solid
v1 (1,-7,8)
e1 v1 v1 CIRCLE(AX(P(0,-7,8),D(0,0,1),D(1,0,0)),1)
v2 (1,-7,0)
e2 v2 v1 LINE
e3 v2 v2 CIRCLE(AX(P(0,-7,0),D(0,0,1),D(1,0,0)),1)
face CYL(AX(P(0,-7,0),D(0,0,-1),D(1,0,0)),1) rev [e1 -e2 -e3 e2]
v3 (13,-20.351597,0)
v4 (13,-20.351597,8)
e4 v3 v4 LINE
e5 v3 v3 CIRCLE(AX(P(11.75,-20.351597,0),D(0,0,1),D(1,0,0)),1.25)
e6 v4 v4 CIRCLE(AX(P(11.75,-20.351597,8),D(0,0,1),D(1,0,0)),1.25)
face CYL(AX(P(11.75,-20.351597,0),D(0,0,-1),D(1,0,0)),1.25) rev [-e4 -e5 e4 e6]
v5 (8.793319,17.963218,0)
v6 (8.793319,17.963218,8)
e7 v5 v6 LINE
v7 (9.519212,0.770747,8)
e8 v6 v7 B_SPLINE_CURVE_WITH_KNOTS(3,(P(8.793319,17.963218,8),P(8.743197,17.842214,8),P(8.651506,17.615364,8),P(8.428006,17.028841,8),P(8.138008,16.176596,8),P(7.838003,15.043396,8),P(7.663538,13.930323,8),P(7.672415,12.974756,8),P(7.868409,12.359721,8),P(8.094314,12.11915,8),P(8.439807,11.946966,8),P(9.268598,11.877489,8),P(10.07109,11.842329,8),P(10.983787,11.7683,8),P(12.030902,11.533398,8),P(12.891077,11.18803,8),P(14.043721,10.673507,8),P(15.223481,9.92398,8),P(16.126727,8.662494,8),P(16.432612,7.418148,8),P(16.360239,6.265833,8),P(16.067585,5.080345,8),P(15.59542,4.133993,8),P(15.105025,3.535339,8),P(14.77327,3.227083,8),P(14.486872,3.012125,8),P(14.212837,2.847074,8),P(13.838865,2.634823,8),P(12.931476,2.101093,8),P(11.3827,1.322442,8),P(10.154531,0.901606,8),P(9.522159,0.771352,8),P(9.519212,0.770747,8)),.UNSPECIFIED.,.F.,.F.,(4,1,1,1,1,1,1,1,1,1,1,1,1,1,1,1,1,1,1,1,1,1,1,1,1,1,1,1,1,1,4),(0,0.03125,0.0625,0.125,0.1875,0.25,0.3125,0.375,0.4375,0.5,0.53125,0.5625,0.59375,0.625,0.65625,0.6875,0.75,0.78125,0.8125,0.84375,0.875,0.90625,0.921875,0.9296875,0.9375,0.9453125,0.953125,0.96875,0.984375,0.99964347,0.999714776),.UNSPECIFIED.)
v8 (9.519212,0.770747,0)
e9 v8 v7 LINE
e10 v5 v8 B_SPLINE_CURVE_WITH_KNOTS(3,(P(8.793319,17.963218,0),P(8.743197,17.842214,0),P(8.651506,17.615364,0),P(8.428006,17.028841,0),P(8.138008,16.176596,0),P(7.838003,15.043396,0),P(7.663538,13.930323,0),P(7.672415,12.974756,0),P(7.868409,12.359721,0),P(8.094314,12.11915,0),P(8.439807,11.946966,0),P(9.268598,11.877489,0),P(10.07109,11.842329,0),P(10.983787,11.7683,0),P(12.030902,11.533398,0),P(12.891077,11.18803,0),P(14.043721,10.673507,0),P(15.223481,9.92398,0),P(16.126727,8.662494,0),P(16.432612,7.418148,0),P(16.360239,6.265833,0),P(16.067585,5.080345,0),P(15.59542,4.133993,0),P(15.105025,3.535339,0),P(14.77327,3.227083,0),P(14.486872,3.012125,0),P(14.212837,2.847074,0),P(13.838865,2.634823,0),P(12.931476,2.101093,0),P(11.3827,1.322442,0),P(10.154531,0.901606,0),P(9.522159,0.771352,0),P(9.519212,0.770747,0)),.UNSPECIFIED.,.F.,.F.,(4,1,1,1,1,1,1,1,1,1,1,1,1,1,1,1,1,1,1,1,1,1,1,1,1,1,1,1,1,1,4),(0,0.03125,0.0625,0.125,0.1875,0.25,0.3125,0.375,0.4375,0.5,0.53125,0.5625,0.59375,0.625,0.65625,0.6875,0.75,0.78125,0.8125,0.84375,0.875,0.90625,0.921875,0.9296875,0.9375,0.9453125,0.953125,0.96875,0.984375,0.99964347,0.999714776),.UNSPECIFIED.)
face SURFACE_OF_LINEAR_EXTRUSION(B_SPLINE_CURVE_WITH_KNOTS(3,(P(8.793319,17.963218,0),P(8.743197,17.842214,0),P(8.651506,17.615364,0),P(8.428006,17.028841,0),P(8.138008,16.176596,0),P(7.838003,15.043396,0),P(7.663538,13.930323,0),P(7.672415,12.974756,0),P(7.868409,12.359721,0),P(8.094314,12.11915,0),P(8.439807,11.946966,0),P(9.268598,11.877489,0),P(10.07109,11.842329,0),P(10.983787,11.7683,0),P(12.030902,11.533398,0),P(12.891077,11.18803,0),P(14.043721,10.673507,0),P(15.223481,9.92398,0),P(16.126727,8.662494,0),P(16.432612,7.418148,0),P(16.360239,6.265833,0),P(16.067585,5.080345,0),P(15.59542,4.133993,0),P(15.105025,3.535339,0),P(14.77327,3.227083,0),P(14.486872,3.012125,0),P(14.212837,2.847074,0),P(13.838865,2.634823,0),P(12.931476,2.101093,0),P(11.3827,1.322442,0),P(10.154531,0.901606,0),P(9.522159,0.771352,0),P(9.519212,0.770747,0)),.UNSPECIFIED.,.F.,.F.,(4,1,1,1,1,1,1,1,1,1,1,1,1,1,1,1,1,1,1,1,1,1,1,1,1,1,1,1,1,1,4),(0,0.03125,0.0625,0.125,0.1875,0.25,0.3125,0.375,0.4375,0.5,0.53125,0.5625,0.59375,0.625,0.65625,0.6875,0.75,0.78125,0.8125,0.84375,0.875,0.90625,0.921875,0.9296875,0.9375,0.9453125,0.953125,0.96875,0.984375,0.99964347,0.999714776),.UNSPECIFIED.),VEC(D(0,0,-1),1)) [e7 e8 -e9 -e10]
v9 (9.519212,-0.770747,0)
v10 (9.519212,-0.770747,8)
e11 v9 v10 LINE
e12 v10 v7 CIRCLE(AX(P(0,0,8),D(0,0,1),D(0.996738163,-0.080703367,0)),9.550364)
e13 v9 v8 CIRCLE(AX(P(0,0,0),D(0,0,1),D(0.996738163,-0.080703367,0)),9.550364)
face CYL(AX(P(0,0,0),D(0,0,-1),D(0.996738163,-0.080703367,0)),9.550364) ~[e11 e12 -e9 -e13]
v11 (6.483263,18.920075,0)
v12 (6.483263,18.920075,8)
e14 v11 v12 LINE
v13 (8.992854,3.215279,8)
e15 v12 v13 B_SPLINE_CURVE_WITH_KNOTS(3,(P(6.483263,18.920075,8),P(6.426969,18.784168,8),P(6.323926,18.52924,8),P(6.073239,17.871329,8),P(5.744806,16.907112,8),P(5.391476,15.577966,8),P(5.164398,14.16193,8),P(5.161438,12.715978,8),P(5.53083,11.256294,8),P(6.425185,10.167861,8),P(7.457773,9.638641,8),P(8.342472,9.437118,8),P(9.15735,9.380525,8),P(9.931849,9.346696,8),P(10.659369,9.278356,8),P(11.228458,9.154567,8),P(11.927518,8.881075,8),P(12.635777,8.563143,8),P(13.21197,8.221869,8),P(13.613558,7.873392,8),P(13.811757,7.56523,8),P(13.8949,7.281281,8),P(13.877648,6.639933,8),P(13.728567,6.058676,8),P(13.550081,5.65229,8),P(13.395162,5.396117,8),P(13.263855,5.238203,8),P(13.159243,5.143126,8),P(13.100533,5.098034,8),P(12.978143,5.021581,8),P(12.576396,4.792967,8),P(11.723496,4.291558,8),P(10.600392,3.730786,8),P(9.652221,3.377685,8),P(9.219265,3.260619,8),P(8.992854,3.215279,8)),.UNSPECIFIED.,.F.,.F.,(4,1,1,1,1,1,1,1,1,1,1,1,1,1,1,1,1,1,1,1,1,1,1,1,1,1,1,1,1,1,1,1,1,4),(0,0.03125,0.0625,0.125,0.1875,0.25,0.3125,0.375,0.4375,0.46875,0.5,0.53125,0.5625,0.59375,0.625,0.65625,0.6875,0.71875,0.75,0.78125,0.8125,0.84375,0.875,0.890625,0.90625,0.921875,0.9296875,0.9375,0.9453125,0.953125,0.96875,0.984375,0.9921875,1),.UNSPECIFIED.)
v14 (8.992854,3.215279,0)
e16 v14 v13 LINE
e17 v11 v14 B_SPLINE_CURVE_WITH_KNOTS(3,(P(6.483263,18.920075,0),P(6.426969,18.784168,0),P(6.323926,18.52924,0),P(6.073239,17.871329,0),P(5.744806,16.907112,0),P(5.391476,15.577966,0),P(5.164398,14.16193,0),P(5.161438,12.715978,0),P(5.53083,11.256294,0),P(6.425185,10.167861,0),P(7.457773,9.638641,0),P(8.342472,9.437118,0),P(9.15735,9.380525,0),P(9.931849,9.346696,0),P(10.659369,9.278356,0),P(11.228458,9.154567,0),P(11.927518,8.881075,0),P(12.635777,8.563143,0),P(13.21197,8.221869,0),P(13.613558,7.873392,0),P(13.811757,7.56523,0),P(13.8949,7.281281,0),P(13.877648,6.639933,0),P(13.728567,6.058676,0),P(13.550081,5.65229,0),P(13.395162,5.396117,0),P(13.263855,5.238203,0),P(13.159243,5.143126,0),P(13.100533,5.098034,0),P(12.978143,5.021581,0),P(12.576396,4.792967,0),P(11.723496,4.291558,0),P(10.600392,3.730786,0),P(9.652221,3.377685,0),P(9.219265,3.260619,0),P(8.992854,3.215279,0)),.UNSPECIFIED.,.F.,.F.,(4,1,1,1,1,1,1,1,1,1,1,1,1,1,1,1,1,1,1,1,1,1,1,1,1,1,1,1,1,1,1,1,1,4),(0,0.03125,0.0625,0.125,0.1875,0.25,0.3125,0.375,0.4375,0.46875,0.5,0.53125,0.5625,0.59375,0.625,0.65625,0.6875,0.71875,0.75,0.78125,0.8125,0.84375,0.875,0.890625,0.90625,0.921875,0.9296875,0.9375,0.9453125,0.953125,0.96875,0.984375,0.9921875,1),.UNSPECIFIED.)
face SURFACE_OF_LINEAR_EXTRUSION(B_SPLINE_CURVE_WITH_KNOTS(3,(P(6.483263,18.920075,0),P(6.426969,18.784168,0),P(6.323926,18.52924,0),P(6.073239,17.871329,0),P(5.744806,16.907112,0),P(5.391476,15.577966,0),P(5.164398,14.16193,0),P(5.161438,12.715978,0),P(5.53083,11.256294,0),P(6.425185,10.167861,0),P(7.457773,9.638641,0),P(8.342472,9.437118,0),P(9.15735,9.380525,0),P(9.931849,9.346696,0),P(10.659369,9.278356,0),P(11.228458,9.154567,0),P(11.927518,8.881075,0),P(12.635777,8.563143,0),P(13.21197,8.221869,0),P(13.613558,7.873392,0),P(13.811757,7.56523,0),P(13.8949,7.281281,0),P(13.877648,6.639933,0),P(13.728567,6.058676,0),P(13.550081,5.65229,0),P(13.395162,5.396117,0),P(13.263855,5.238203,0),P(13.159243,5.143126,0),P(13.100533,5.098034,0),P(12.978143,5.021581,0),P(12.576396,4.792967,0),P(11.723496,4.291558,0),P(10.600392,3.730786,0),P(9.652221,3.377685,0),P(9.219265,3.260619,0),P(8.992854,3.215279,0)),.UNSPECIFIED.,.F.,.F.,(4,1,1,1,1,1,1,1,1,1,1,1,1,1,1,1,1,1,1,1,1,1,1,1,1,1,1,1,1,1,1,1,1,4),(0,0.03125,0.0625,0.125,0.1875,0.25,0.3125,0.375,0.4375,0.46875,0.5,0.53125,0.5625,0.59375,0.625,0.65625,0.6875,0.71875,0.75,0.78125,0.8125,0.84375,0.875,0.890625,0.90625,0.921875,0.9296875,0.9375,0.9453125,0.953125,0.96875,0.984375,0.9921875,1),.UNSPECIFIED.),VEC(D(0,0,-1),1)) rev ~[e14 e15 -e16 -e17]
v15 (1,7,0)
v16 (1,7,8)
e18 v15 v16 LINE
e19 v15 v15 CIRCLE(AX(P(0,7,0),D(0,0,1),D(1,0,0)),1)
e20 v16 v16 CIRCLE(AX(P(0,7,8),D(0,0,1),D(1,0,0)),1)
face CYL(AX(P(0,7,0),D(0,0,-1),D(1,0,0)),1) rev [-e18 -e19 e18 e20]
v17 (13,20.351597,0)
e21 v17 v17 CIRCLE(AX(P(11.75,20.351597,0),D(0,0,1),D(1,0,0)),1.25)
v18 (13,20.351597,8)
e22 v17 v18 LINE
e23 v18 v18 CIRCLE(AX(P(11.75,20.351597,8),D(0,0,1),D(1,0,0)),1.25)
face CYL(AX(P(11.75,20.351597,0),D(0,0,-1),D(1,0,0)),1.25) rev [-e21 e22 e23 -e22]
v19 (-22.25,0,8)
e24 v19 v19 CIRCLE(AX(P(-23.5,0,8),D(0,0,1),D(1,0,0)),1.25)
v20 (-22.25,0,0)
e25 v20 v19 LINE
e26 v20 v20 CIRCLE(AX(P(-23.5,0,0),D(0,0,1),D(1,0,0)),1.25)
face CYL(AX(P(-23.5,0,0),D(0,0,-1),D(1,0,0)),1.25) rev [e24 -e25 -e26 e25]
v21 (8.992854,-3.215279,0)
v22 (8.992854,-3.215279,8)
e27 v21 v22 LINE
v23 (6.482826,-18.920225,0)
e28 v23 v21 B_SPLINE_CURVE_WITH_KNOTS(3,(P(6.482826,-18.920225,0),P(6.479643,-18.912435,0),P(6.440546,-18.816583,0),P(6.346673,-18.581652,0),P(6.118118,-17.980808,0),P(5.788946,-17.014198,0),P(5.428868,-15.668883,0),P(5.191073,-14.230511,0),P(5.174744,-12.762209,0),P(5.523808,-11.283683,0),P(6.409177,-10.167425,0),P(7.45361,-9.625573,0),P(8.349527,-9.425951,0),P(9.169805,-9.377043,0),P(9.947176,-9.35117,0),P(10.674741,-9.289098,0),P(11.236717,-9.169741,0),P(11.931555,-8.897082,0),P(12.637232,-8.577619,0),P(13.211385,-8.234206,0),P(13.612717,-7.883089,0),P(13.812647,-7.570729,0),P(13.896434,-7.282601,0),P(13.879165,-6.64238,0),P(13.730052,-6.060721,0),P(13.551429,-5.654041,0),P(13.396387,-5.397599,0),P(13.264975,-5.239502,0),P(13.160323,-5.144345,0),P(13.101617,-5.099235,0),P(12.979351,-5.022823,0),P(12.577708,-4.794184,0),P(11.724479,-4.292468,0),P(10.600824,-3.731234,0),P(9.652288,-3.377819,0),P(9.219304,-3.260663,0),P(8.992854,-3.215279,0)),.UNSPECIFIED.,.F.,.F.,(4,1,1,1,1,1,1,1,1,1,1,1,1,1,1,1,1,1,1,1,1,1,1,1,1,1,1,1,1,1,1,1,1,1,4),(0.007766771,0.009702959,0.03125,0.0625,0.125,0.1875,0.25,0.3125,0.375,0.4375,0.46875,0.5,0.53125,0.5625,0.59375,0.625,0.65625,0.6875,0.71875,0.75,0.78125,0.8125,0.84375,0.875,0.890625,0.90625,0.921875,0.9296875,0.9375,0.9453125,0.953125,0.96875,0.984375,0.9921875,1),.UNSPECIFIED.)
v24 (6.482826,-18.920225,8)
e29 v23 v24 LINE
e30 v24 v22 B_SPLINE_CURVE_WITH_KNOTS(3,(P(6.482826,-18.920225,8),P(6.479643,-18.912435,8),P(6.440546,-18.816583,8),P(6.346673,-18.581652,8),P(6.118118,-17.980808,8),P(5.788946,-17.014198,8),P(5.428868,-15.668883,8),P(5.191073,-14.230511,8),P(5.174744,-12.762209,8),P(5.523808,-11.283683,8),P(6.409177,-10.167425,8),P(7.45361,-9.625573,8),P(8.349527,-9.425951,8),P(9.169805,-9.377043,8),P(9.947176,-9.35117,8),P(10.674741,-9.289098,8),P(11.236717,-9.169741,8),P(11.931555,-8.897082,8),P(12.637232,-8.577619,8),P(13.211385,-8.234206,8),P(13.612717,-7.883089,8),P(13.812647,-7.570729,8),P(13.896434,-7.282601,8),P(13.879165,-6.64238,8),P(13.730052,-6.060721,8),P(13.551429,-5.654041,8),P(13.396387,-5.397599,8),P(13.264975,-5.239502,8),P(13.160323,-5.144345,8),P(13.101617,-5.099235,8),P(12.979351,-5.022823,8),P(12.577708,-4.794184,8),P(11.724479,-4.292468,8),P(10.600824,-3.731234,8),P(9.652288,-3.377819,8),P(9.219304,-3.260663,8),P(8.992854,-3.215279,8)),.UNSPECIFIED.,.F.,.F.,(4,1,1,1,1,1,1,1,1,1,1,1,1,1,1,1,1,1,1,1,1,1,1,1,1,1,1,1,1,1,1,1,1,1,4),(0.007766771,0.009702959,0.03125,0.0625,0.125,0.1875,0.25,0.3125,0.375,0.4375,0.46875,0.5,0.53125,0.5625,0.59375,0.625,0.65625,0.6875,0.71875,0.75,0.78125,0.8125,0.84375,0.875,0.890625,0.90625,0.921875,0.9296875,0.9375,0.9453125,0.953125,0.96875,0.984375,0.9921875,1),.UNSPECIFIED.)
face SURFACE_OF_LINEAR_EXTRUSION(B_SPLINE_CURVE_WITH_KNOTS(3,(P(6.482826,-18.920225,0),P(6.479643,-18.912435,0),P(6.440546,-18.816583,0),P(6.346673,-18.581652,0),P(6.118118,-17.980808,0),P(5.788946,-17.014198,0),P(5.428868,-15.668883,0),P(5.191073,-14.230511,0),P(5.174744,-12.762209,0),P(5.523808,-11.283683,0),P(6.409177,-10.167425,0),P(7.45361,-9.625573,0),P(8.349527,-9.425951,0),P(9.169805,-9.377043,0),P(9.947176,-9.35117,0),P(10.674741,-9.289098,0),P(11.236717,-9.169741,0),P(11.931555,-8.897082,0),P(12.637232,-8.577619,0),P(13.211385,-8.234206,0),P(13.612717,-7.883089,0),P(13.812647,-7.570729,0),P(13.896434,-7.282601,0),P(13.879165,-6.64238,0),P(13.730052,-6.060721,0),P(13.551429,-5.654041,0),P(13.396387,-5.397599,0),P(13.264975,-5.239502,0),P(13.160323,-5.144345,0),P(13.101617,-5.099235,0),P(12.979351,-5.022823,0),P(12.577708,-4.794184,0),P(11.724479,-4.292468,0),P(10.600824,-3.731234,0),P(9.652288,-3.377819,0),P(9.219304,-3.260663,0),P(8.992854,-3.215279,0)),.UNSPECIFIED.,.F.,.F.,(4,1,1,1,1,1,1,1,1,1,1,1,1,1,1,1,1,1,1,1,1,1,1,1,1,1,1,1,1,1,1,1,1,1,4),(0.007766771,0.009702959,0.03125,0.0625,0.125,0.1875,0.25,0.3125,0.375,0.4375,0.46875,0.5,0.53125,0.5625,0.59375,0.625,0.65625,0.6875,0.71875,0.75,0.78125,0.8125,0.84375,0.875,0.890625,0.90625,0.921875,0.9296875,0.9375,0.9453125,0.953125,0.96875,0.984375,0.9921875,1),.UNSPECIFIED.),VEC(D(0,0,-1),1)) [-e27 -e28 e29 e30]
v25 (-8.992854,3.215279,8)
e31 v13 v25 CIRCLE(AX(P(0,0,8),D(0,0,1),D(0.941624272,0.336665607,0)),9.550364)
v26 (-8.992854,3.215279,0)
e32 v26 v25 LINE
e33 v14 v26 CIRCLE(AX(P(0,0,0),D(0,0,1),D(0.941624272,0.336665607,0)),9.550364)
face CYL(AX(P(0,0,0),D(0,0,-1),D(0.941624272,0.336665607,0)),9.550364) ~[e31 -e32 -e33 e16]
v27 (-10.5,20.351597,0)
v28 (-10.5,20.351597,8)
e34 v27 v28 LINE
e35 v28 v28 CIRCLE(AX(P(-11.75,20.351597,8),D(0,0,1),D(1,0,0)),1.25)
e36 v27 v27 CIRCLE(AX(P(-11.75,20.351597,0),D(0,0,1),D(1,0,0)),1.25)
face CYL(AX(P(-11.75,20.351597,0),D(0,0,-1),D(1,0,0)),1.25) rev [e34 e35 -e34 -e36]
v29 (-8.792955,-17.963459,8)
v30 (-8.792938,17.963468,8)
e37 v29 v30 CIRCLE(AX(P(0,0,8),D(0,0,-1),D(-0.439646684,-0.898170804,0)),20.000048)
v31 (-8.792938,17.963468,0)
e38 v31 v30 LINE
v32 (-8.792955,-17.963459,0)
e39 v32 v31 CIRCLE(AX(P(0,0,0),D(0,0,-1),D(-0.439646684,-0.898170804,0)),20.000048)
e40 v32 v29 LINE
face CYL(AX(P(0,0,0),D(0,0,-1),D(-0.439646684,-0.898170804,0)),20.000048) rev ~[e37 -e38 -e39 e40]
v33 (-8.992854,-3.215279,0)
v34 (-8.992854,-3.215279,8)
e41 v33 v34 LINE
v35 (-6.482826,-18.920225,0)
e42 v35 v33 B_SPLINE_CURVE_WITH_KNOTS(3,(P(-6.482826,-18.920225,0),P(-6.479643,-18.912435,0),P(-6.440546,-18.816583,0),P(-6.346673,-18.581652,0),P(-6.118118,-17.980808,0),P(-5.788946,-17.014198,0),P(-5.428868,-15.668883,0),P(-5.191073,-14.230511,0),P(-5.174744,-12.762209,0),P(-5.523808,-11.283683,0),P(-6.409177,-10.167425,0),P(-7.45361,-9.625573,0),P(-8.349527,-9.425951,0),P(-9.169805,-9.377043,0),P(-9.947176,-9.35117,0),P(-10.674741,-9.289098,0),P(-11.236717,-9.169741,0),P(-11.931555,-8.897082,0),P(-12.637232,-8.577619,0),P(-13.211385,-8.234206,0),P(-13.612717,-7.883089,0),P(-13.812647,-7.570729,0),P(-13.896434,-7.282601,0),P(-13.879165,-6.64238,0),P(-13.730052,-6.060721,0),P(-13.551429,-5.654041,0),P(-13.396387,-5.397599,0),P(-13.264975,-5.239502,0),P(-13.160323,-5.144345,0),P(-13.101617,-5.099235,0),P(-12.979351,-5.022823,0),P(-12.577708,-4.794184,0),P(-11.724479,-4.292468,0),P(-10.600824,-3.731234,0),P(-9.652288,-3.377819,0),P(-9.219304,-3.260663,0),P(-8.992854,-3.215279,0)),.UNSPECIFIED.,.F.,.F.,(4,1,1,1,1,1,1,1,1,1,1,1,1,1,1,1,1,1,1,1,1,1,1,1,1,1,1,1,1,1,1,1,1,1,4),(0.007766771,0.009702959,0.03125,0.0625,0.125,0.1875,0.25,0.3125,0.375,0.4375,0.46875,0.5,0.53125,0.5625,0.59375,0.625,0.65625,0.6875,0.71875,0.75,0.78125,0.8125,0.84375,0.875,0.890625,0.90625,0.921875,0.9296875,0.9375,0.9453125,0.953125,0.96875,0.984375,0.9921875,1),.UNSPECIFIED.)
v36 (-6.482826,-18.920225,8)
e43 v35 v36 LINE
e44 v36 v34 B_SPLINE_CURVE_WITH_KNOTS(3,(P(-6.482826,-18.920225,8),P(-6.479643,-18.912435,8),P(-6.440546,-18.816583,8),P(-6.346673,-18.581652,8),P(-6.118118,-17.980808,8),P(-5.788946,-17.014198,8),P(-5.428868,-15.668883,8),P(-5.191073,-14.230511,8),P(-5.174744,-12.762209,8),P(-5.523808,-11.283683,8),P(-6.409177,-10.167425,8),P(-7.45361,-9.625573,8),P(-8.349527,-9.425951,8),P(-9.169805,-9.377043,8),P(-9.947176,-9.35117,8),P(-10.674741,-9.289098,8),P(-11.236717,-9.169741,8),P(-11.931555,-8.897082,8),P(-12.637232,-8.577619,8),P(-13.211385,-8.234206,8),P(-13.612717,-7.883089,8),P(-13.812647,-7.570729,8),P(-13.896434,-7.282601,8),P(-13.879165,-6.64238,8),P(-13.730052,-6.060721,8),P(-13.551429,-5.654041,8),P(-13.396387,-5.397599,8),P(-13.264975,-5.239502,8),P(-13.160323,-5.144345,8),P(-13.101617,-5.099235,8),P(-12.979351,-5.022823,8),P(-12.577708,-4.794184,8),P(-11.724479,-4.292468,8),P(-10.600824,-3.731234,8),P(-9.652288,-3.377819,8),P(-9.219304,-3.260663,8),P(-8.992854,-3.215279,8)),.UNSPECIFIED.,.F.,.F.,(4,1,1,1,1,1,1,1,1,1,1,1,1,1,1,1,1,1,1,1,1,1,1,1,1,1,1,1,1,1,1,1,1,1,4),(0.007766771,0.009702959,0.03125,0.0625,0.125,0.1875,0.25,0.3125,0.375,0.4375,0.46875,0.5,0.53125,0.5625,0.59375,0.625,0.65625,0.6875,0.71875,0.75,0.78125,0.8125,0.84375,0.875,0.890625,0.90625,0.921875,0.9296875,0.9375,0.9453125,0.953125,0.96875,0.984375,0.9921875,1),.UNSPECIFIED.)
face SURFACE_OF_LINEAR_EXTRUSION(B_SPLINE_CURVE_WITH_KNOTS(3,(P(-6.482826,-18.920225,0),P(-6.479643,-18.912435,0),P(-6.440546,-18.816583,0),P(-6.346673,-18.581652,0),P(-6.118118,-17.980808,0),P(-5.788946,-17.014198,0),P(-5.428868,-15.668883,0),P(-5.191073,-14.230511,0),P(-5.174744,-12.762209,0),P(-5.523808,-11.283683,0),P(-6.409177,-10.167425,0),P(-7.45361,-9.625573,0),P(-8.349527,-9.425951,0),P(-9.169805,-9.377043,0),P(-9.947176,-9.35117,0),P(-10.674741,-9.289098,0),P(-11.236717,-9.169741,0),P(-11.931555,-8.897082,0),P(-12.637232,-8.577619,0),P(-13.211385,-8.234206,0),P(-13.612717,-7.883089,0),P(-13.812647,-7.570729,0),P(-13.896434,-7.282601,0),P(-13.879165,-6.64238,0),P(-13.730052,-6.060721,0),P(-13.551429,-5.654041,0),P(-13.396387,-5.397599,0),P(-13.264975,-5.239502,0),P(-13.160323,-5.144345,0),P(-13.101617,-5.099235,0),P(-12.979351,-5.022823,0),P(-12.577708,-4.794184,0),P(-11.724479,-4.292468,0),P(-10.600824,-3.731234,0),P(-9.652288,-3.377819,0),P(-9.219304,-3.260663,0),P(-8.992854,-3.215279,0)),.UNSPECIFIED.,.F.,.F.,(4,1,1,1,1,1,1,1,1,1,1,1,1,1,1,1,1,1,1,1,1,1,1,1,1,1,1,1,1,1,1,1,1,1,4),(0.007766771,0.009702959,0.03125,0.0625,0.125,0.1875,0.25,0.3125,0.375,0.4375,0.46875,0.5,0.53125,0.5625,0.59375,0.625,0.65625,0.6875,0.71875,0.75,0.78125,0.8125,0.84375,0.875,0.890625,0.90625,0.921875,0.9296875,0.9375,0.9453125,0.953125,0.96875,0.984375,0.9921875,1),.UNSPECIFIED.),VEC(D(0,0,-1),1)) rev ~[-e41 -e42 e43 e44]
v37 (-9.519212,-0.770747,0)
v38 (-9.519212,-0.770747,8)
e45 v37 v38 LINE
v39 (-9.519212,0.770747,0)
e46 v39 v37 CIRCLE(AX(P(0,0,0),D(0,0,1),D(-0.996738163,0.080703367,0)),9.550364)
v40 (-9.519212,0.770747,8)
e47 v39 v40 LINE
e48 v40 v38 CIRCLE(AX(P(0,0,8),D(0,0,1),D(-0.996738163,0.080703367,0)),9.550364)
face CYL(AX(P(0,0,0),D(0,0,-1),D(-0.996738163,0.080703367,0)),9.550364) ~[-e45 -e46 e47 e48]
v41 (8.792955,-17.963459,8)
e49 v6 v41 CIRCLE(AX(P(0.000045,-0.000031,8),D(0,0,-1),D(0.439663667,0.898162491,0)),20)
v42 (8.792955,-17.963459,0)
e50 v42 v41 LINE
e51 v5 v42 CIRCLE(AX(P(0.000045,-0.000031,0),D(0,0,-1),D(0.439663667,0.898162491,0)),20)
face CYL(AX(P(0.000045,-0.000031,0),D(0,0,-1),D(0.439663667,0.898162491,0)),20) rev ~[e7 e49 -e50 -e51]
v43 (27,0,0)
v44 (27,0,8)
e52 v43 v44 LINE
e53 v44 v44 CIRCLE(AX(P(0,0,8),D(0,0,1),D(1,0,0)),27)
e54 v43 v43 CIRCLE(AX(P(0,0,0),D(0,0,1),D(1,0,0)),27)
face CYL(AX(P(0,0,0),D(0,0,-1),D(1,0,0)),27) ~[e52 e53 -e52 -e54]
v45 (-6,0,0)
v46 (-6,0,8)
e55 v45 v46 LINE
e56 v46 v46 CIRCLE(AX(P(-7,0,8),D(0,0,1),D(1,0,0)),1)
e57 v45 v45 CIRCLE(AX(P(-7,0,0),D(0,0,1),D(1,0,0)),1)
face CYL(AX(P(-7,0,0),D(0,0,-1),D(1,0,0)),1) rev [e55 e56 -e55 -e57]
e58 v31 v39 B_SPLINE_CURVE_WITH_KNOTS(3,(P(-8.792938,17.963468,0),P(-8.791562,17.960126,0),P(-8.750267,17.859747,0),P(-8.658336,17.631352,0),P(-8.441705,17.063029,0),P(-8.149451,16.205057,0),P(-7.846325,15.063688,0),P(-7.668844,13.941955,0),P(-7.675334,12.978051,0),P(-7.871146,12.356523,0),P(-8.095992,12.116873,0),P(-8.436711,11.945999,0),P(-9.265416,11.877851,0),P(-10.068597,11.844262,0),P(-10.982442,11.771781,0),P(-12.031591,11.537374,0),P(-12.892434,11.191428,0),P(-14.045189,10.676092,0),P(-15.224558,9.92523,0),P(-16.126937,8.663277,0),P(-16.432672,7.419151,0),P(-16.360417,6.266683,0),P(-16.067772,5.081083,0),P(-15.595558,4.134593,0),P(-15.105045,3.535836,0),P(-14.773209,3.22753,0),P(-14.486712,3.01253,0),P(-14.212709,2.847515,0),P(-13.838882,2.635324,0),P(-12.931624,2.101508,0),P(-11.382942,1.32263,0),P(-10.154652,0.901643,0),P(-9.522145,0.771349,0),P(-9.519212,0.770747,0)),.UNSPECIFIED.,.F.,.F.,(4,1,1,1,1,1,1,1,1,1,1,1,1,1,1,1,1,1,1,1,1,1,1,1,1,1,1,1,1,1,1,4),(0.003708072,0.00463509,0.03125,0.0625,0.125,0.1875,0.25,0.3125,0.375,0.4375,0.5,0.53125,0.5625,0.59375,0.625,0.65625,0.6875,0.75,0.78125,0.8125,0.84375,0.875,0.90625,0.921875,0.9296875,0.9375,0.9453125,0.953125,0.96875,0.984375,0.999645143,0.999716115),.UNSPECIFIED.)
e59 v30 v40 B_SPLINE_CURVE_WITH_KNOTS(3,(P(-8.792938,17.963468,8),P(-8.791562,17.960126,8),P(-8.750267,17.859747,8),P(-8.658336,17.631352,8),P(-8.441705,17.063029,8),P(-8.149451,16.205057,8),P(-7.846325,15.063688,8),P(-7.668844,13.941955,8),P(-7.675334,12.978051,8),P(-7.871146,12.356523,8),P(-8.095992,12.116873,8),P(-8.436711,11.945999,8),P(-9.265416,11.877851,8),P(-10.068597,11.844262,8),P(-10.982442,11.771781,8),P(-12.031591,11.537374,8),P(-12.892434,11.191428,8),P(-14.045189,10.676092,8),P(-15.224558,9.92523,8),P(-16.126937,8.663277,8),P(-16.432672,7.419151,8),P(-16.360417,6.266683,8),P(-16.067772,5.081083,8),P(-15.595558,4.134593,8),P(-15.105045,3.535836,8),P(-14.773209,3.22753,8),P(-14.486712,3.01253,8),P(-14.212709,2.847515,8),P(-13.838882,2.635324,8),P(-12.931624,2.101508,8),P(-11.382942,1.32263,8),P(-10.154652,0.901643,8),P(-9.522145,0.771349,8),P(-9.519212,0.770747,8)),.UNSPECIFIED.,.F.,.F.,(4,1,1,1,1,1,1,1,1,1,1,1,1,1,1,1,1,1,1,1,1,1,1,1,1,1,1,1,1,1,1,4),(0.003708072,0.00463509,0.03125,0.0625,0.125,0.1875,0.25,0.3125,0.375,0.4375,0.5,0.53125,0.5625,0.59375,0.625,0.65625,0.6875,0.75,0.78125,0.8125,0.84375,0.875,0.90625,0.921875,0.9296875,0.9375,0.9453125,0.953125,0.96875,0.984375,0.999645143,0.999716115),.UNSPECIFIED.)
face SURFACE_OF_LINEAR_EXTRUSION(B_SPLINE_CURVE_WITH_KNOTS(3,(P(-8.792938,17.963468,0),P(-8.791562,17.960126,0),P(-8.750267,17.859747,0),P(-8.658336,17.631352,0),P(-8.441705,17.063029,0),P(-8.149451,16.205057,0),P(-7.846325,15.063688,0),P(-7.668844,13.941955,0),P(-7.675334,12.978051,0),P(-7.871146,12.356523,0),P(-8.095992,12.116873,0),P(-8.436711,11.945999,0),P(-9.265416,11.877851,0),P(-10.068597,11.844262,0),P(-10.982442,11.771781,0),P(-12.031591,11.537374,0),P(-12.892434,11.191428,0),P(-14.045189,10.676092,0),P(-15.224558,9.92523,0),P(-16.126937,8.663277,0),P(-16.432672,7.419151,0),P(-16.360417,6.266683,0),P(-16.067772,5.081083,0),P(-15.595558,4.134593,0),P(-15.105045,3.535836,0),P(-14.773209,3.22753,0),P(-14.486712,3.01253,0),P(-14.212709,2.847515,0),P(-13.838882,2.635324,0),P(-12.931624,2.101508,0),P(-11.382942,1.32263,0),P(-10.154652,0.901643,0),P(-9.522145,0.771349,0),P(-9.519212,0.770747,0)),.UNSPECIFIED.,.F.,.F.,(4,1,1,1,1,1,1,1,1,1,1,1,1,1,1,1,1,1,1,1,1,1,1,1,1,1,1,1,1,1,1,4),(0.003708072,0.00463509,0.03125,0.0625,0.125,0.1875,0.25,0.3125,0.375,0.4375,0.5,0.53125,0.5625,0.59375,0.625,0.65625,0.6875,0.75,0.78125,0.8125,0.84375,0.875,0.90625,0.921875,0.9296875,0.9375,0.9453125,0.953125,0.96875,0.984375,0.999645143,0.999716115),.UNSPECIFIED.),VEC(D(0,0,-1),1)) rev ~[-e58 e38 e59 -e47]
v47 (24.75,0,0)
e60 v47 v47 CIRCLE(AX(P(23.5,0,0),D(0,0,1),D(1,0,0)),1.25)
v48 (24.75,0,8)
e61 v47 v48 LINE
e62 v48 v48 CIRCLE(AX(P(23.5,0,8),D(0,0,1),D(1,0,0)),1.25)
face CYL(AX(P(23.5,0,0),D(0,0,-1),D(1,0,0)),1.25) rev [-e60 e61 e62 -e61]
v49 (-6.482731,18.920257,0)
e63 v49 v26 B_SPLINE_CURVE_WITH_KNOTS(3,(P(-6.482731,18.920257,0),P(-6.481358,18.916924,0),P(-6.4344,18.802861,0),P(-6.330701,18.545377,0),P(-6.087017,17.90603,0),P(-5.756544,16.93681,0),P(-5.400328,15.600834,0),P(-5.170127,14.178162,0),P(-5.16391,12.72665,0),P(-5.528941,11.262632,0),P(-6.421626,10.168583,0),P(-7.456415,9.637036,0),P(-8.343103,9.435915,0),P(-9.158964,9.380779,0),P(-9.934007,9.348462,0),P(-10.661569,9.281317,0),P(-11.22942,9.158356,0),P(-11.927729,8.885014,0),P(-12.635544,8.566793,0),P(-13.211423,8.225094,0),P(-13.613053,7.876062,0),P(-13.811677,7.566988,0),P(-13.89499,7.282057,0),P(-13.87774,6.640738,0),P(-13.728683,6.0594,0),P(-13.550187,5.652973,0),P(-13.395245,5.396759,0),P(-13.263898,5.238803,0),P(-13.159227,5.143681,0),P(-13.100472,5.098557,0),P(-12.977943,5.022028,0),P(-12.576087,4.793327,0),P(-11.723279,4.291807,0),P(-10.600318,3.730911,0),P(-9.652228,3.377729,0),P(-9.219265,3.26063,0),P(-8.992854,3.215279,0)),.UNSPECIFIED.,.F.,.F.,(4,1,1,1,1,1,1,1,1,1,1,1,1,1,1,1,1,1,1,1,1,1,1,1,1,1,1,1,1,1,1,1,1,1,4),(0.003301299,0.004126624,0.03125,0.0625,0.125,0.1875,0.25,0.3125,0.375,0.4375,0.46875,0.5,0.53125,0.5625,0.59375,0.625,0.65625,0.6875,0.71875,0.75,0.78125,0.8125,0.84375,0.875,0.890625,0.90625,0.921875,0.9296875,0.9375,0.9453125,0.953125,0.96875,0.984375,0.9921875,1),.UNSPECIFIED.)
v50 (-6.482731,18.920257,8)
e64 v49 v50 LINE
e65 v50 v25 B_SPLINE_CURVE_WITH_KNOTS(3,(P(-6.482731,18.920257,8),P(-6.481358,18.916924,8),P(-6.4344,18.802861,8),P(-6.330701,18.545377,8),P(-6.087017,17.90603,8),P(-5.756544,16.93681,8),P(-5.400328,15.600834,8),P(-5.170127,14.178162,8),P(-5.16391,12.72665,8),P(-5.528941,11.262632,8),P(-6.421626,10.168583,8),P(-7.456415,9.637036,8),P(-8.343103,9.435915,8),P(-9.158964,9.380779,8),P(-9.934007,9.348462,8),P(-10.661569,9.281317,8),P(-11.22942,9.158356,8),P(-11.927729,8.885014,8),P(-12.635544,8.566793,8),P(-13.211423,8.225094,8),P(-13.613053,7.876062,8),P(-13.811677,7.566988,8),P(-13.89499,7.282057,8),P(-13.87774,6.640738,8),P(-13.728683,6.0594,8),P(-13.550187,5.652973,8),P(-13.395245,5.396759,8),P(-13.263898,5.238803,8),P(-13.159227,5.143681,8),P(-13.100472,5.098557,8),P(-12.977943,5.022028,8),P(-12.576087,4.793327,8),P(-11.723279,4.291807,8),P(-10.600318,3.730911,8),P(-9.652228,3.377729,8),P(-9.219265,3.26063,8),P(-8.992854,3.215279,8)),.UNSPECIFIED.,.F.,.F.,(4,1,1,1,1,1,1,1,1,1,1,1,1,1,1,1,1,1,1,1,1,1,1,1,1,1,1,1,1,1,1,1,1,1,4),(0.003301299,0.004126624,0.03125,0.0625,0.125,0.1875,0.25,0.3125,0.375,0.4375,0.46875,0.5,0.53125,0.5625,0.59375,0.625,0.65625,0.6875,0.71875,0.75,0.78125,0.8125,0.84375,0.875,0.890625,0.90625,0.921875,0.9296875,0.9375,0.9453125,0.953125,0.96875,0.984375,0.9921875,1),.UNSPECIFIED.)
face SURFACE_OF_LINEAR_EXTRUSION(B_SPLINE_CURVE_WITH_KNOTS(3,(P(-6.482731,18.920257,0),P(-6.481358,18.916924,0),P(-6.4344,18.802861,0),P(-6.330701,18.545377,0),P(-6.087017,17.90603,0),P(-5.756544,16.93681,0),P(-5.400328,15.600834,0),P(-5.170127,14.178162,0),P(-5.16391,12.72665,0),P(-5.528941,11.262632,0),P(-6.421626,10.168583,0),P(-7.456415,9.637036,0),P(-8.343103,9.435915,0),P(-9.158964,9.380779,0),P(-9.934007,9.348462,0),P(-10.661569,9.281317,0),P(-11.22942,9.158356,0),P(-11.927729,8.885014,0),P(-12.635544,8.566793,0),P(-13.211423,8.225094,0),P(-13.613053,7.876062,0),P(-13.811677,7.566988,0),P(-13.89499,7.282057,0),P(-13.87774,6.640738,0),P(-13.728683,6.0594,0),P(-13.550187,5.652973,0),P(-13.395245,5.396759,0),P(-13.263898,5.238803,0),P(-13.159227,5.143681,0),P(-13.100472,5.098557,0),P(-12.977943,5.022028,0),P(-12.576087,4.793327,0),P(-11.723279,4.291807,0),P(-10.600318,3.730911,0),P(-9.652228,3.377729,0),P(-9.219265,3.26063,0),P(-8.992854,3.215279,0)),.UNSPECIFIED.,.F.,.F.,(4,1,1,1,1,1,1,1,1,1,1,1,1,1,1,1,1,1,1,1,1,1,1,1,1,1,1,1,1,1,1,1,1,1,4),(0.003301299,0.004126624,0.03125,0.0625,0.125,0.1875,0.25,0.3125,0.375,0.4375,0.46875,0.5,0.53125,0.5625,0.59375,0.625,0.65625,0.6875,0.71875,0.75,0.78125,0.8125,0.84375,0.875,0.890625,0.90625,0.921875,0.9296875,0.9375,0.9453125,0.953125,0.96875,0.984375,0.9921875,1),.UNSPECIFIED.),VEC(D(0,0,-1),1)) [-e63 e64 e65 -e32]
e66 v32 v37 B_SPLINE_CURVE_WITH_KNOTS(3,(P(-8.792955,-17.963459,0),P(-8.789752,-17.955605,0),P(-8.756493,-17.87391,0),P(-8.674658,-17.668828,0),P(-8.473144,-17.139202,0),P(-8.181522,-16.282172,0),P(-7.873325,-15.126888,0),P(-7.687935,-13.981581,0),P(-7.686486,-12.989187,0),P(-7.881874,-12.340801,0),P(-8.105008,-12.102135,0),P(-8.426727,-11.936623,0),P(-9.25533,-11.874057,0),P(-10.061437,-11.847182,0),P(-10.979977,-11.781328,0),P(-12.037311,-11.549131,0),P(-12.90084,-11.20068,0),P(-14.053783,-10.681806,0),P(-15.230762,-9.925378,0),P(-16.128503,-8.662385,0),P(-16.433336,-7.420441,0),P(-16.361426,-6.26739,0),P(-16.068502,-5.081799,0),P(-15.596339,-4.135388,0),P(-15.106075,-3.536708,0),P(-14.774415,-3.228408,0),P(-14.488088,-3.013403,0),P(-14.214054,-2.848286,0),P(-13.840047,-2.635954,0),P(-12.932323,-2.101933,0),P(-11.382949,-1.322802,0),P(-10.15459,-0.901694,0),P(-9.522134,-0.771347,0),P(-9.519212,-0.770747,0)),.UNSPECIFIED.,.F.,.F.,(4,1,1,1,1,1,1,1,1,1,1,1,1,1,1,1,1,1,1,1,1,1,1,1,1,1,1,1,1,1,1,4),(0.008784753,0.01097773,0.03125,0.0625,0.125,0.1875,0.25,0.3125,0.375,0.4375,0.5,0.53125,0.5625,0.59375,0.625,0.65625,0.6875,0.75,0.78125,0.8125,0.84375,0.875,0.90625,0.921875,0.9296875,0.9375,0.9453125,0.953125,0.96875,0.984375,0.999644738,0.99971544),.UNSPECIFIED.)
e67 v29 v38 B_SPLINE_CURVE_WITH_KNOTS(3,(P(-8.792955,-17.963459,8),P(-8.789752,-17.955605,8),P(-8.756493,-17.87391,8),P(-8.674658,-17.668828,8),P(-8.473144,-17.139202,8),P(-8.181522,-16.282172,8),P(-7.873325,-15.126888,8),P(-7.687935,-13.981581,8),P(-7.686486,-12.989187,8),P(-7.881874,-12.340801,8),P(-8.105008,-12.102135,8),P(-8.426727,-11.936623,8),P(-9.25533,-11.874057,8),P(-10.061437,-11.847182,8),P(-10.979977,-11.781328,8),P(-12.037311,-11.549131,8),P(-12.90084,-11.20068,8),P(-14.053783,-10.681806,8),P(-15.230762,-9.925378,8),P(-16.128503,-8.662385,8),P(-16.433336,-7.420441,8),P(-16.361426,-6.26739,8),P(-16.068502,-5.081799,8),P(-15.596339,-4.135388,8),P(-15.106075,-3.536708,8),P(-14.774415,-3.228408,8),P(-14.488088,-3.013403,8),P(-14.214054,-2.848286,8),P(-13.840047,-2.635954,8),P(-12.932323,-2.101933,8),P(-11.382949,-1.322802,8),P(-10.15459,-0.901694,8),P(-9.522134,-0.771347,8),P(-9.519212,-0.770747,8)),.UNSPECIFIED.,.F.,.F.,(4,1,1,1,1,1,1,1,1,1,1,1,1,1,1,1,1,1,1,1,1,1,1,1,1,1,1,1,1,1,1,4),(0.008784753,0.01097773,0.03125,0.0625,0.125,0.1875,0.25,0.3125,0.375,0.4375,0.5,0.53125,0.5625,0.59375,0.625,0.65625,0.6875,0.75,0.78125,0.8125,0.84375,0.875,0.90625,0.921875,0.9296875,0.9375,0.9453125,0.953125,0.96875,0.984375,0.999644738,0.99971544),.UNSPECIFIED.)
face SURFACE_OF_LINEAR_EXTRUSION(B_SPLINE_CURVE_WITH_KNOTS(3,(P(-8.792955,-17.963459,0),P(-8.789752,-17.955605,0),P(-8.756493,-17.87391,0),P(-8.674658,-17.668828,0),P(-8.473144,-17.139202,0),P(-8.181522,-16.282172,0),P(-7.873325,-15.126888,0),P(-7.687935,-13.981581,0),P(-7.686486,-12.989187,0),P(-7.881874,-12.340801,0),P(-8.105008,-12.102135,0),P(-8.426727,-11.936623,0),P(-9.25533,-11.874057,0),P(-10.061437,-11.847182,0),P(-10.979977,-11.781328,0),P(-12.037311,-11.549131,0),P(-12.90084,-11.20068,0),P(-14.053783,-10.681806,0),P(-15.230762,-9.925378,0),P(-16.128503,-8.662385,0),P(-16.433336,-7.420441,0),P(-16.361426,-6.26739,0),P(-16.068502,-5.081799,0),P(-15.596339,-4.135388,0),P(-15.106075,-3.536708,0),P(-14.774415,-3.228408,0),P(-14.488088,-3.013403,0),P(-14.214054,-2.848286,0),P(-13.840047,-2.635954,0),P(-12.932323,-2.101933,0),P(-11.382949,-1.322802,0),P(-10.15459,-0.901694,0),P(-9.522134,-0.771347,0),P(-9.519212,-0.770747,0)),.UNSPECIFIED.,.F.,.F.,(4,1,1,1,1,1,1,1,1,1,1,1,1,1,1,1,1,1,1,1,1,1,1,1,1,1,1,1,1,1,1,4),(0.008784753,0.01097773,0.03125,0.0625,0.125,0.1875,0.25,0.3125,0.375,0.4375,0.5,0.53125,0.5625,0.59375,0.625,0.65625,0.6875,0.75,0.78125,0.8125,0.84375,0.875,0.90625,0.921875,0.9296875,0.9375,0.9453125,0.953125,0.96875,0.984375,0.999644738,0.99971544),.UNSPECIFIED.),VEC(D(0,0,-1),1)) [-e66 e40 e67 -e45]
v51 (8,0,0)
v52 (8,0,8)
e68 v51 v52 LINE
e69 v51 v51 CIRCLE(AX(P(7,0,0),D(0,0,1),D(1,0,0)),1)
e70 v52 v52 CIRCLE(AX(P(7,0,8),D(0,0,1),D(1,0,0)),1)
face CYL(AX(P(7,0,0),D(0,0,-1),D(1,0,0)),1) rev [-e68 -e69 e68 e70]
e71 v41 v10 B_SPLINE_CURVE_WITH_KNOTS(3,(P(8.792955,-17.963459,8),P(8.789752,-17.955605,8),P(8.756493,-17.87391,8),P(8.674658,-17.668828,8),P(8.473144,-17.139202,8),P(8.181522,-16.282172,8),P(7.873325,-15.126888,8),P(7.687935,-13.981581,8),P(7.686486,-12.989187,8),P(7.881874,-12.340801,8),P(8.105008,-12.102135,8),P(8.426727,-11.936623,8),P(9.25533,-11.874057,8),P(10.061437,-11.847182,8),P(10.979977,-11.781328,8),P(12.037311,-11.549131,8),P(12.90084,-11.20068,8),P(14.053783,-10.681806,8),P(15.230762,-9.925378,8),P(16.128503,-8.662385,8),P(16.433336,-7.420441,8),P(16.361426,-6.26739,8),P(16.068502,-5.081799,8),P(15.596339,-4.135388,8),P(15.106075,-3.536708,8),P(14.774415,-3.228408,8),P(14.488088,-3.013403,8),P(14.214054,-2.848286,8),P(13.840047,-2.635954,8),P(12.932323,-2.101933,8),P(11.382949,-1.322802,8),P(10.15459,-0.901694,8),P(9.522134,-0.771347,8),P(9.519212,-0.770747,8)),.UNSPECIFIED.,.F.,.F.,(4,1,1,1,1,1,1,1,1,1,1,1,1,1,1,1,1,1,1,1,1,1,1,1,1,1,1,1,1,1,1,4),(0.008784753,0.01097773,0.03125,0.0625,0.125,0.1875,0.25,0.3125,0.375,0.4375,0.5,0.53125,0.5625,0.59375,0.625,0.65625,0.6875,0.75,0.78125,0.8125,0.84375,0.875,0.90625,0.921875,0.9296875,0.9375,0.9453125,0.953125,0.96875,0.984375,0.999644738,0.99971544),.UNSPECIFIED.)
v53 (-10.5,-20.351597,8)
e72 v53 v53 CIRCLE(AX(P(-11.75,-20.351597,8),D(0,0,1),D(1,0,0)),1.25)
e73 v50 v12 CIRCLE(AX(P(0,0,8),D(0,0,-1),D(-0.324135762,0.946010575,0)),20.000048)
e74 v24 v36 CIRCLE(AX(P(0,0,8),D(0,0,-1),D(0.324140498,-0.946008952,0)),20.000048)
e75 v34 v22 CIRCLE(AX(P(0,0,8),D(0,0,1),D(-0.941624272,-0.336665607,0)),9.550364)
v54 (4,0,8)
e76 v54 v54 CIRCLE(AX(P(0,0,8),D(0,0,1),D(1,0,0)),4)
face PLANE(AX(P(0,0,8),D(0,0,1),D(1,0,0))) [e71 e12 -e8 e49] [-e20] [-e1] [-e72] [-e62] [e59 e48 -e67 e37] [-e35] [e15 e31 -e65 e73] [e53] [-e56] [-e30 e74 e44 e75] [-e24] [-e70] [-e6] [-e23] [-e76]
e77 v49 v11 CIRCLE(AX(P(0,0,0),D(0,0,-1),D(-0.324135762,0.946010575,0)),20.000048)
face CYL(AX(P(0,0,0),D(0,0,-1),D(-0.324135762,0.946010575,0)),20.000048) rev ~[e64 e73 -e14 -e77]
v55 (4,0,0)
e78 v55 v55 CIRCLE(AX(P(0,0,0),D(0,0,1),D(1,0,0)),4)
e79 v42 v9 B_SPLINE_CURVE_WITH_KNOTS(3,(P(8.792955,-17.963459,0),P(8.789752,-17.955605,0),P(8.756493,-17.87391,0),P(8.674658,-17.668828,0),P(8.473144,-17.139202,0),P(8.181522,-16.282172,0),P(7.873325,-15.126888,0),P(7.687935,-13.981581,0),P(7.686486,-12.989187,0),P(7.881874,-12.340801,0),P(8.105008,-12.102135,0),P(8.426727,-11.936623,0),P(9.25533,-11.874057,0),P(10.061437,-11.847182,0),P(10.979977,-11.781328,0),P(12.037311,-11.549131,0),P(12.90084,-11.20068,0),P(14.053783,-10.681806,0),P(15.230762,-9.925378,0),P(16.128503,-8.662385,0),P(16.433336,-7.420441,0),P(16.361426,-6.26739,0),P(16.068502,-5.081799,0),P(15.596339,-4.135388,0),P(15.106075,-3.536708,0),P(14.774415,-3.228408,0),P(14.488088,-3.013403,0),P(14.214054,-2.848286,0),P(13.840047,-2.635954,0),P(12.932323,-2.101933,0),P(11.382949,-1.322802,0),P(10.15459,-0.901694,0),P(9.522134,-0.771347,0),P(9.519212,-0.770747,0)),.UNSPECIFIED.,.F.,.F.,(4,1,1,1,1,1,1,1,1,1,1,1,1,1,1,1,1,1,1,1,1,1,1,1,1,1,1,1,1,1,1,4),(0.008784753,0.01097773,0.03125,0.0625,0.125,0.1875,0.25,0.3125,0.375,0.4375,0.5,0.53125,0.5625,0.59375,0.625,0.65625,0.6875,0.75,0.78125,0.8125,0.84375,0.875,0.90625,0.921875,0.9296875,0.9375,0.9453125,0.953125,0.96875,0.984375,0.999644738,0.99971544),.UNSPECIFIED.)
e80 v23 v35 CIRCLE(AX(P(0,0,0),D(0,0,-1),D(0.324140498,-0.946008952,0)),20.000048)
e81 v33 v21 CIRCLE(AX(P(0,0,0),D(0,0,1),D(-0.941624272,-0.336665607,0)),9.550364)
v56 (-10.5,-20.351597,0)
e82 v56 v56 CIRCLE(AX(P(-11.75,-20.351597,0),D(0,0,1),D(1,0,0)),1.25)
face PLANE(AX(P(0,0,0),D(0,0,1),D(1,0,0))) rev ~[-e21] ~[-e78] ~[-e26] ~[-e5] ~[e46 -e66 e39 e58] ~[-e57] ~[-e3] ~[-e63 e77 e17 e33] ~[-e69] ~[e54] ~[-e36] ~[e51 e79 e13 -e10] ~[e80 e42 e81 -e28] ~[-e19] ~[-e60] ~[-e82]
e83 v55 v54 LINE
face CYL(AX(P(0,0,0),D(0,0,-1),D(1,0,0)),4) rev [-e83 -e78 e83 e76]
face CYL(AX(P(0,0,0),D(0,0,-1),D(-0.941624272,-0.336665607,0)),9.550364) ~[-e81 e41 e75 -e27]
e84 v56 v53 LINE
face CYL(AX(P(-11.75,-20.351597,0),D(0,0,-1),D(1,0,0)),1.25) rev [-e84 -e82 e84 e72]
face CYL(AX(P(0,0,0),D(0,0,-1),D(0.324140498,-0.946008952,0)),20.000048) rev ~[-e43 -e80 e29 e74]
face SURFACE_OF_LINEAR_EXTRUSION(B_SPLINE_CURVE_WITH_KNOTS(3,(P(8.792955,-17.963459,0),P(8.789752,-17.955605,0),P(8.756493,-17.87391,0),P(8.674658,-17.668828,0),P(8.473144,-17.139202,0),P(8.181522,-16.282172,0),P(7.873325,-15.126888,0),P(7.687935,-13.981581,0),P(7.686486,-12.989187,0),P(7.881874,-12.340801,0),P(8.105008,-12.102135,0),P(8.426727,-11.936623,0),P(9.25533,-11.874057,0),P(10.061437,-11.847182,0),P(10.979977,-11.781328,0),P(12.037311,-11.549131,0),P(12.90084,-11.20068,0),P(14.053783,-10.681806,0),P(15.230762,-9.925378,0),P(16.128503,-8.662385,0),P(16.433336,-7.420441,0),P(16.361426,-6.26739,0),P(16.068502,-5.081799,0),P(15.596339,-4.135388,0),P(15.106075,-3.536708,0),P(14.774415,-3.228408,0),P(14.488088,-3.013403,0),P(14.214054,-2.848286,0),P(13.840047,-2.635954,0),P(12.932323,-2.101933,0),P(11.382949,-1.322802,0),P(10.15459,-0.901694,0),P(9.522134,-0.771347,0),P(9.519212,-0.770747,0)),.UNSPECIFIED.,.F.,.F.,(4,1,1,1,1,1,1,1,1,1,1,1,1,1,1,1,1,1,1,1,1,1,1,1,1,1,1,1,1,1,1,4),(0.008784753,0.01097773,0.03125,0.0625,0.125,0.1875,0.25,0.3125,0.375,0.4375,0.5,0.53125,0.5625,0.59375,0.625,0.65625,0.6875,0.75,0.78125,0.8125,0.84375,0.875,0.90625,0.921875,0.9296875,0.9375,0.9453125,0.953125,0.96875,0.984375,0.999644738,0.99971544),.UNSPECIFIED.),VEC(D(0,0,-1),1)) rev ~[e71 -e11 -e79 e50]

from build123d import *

# Parameters (mm, degrees)
SKETCH1_R           = 27
SKETCH1_R_2         = 4
SKETCH1_R_3         = 1
SKETCH1_R_4         = 1.25
BOSS_EXTRUDE1_DEPTH = 8


with BuildPart() as part:
    # Sketch1 → Boss-Extrude1 (new body)
    with BuildSketch(Plane.XY):
        Circle(SKETCH1_R)
        Circle(SKETCH1_R_2, mode=Mode.SUBTRACT)
        with Locations((0, 7)):
            Circle(SKETCH1_R_3, mode=Mode.SUBTRACT)
        with Locations((7, 0)):
            Circle(SKETCH1_R_3, mode=Mode.SUBTRACT)
        with Locations((0, -7)):
            Circle(SKETCH1_R_3, mode=Mode.SUBTRACT)
        with Locations((-7, 0)):
            Circle(SKETCH1_R_3, mode=Mode.SUBTRACT)
        with Locations((23.5, 0)):
            Circle(SKETCH1_R_4, mode=Mode.SUBTRACT)
        with Locations((-11.75, -20.351596989)):
            Circle(SKETCH1_R_4, mode=Mode.SUBTRACT)
        with Locations((-11.75, 20.351596989)):
            Circle(SKETCH1_R_4, mode=Mode.SUBTRACT)
        with Locations((11.75, -20.351596989)):
            Circle(SKETCH1_R_4, mode=Mode.SUBTRACT)
        with Locations((-23.5, 0)):
            Circle(SKETCH1_R_4, mode=Mode.SUBTRACT)
        with Locations((11.75, 20.351596989)):
            Circle(SKETCH1_R_4, mode=Mode.SUBTRACT)
        with BuildLine():
            ThreePointArc((-9.519212073, 0.770746505), (-9.550363798, 0), (-9.519212073, -0.770746505))
            add(Edge.make_bspline(
                [(-8.79295489, -17.963459402), (-8.789751676, -17.955605283), (-8.756493011, -17.873910254), (-8.674658323, -17.668827597), (-8.47314353, -17.139202024), (-8.181522342, -16.282172452), (-7.873324992, -15.126888182), (-7.687935236, -13.981580908), (-7.686485968, -12.989186569), (-7.881874013, -12.340800811), (-8.105008022, -12.102135272), (-8.426726621, -11.93662341), (-9.255330049, -11.874056746), (-10.061437086, -11.847182272), (-10.979976732, -11.781328167), (-12.037311083, -11.549131456), (-12.900840134, -11.200679798), (-14.053782574, -10.681805535), (-15.230761942, -9.925378086), (-16.128503078, -8.662385101), (-16.433335649, -7.420441445), (-16.36142636, -6.267389777), (-16.068501517, -5.081799092), (-15.596339324, -4.13538804), (-15.106075273, -3.536707787), (-14.774414654, -3.228408392), (-14.488087887, -3.013403395), (-14.214054149, -2.848285897), (-13.840047195, -2.635954373), (-12.932323329, -2.101933051), (-11.3829493, -1.322801643), (-10.154589961, -0.901693789), (-9.522133979, -0.771346853), (-9.519212073, -0.770746505)],
                knots=[0.008784753, 0.008784753, 0.008784753, 0.008784753, 0.01097773, 0.03125, 0.0625, 0.125, 0.1875, 0.25, 0.3125, 0.375, 0.4375, 0.5, 0.53125, 0.5625, 0.59375, 0.625, 0.65625, 0.6875, 0.75, 0.78125, 0.8125, 0.84375, 0.875, 0.90625, 0.921875, 0.9296875, 0.9375, 0.9453125, 0.953125, 0.96875, 0.984375, 0.999644738, 0.99971544, 0.99971544, 0.99971544, 0.99971544], degree=3))
            ThreePointArc((-8.79295489, -17.963459402), (-20.000048234, 9.463e-06), (-8.792937891, 17.963467723))
            add(Edge.make_bspline(
                [(-8.792937891, 17.963467723), (-8.791562262, 17.960126215), (-8.750267497, 17.859747013), (-8.65833601, 17.631351501), (-8.441705375, 17.063028934), (-8.149451429, 16.205056503), (-7.846325361, 15.06368757), (-7.668843885, 13.941955129), (-7.675333506, 12.978050771), (-7.87114636, 12.35652349), (-8.095991929, 12.116873434), (-8.436711213, 11.945998932), (-9.265416298, 11.87785087), (-10.068596518, 11.844262449), (-10.982441815, 11.771781418), (-12.031590736, 11.537373891), (-12.892434133, 11.191428265), (-14.045189381, 10.676092497), (-15.224558498, 9.925230094), (-16.126936546, 8.663277488), (-16.432671595, 7.419151394), (-16.360416899, 6.266683054), (-16.067771702, 5.081083432), (-15.595558083, 4.134593177), (-15.105045207, 3.535835762), (-14.773209288, 3.227530288), (-14.486711652, 3.012529547), (-14.212708995, 2.847515376), (-13.83888204, 2.635324178), (-12.931623587, 2.101508088), (-11.382941981, 1.322630304), (-10.154652478, 0.901642716), (-9.522145294, 0.771348875), (-9.519212073, 0.770746505)],
                knots=[0.003708072, 0.003708072, 0.003708072, 0.003708072, 0.00463509, 0.03125, 0.0625, 0.125, 0.1875, 0.25, 0.3125, 0.375, 0.4375, 0.5, 0.53125, 0.5625, 0.59375, 0.625, 0.65625, 0.6875, 0.75, 0.78125, 0.8125, 0.84375, 0.875, 0.90625, 0.921875, 0.9296875, 0.9375, 0.9453125, 0.953125, 0.96875, 0.984375, 0.999645143, 0.999716115, 0.999716115, 0.999716115, 0.999716115], degree=3))
        make_face(mode=Mode.SUBTRACT)
        with BuildLine():
            ThreePointArc((-8.992854355, -3.215279027), (0, -9.550363798), (8.992854355, -3.215279027))
            add(Edge.make_bspline(
                [(6.482825594, -18.920224673), (6.479643079, -18.912434621), (6.440546178, -18.816583376), (6.346672928, -18.581652119), (6.118118263, -17.980808102), (5.788945543, -17.014197955), (5.428868329, -15.668883374), (5.191072918, -14.23051065), (5.174743858, -12.762208605), (5.523807656, -11.283682639), (6.409177328, -10.167424688), (7.453609958, -9.625573421), (8.349527017, -9.425951182), (9.169805236, -9.377043055), (9.947175883, -9.35117047), (10.674740736, -9.289097944), (11.236716988, -9.1697411), (11.931555202, -8.897082405), (12.637231679, -8.577618745), (13.211384932, -8.234205944), (13.612717299, -7.883089355), (13.812647465, -7.570728835), (13.896433602, -7.282600511), (13.879165384, -6.642379878), (13.730051718, -6.060720657), (13.551428988, -5.654040983), (13.396387154, -5.397598774), (13.264974828, -5.239502142), (13.160322976, -5.144344514), (13.101616979, -5.099234995), (12.979350793, -5.022822963), (12.577708218, -4.794184261), (11.724478645, -4.292467827), (10.60082367, -3.731233705), (9.652287875, -3.377819408), (9.219303852, -3.260663105), (8.992854355, -3.215279027)],
                knots=[0.007766771, 0.007766771, 0.007766771, 0.007766771, 0.009702959, 0.03125, 0.0625, 0.125, 0.1875, 0.25, 0.3125, 0.375, 0.4375, 0.46875, 0.5, 0.53125, 0.5625, 0.59375, 0.625, 0.65625, 0.6875, 0.71875, 0.75, 0.78125, 0.8125, 0.84375, 0.875, 0.890625, 0.90625, 0.921875, 0.9296875, 0.9375, 0.9453125, 0.953125, 0.96875, 0.984375, 0.9921875, 1, 1, 1, 1], degree=3))
            ThreePointArc((6.482825594, -18.920224673), (0, -20.000048234), (-6.482825594, -18.920224673))
            add(Edge.make_bspline(
                [(-6.482825594, -18.920224673), (-6.479643079, -18.912434621), (-6.440546178, -18.816583376), (-6.346672928, -18.581652119), (-6.118118263, -17.980808102), (-5.788945543, -17.014197955), (-5.428868329, -15.668883374), (-5.191072918, -14.23051065), (-5.174743858, -12.762208605), (-5.523807656, -11.283682639), (-6.409177328, -10.167424688), (-7.453609958, -9.625573421), (-8.349527017, -9.425951182), (-9.169805236, -9.377043055), (-9.947175883, -9.35117047), (-10.674740736, -9.289097944), (-11.236716988, -9.1697411), (-11.931555202, -8.897082405), (-12.637231679, -8.577618745), (-13.211384932, -8.234205944), (-13.612717299, -7.883089355), (-13.812647465, -7.570728835), (-13.896433602, -7.282600511), (-13.879165384, -6.642379878), (-13.730051718, -6.060720657), (-13.551428988, -5.654040983), (-13.396387154, -5.397598774), (-13.264974828, -5.239502142), (-13.160322976, -5.144344514), (-13.101616979, -5.099234995), (-12.979350793, -5.022822963), (-12.577708218, -4.794184261), (-11.724478645, -4.292467827), (-10.60082367, -3.731233705), (-9.652287875, -3.377819408), (-9.219303852, -3.260663105), (-8.992854355, -3.215279027)],
                knots=[0.007766771, 0.007766771, 0.007766771, 0.007766771, 0.009702959, 0.03125, 0.0625, 0.125, 0.1875, 0.25, 0.3125, 0.375, 0.4375, 0.46875, 0.5, 0.53125, 0.5625, 0.59375, 0.625, 0.65625, 0.6875, 0.71875, 0.75, 0.78125, 0.8125, 0.84375, 0.875, 0.890625, 0.90625, 0.921875, 0.9296875, 0.9375, 0.9453125, 0.953125, 0.96875, 0.984375, 0.9921875, 1, 1, 1, 1], degree=3))
        make_face(mode=Mode.SUBTRACT)
        with BuildLine():
            ThreePointArc((9.519212073, -0.770746505), (9.550363798, 0), (9.519212073, 0.770746505))
            add(Edge.make_bspline(
                [(8.793318818, 17.963218379), (8.743197293, 17.842214311), (8.651505868, 17.615364074), (8.428006234, 17.0288406), (8.138008467, 16.176595857), (7.838003211, 15.043395883), (7.663538372, 13.930323334), (7.672414939, 12.974755911), (7.868409236, 12.359721076), (8.094314145, 12.119149537), (8.43980684, 11.946965508), (9.268598186, 11.877488925), (10.071089889, 11.842329001), (10.983787483, 11.768300256), (12.03090242, 11.533397682), (12.891077316, 11.188030214), (14.043721238, 10.673507279), (15.223480966, 9.923979767), (16.126726799, 8.66249373), (16.432612099, 7.418147543), (16.360238965, 6.265833202), (16.067584864, 5.080344546), (15.595419621, 4.133992665), (15.105024713, 3.535339458), (14.77327045, 3.227082767), (14.486871953, 3.012125091), (14.212836921, 2.847074129), (13.838864879, 2.634823466), (12.931475766, 2.101093192), (11.382699658, 1.322441506), (10.154530912, 0.901606325), (9.52215874, 0.771351576), (9.519212073, 0.770746505)],
                knots=[0, 0, 0, 0, 0.03125, 0.0625, 0.125, 0.1875, 0.25, 0.3125, 0.375, 0.4375, 0.5, 0.53125, 0.5625, 0.59375, 0.625, 0.65625, 0.6875, 0.75, 0.78125, 0.8125, 0.84375, 0.875, 0.90625, 0.921875, 0.9296875, 0.9375, 0.9453125, 0.953125, 0.96875, 0.984375, 0.99964347, 0.999714776, 0.999714776, 0.999714776, 0.999714776], degree=3))
            ThreePointArc((8.793318818, 17.963218379), (20.000045481, -0.000234035), (8.79295489, -17.963459402))
            add(Edge.make_bspline(
                [(8.79295489, -17.963459402), (8.789751676, -17.955605283), (8.756493011, -17.873910254), (8.674658323, -17.668827597), (8.47314353, -17.139202024), (8.181522342, -16.282172452), (7.873324992, -15.126888182), (7.687935236, -13.981580908), (7.686485968, -12.989186569), (7.881874013, -12.340800811), (8.105008022, -12.102135272), (8.426726621, -11.93662341), (9.255330049, -11.874056746), (10.061437086, -11.847182272), (10.979976732, -11.781328167), (12.037311083, -11.549131456), (12.900840134, -11.200679798), (14.053782574, -10.681805535), (15.230761942, -9.925378086), (16.128503077, -8.662385101), (16.433335649, -7.420441445), (16.36142636, -6.267389777), (16.068501517, -5.081799092), (15.596339324, -4.13538804), (15.106075273, -3.536707787), (14.774414654, -3.228408392), (14.488087887, -3.013403395), (14.214054149, -2.848285897), (13.840047195, -2.635954373), (12.932323329, -2.101933051), (11.3829493, -1.322801643), (10.154589961, -0.901693789), (9.522133979, -0.771346853), (9.519212073, -0.770746505)],
                knots=[0.008784753, 0.008784753, 0.008784753, 0.008784753, 0.01097773, 0.03125, 0.0625, 0.125, 0.1875, 0.25, 0.3125, 0.375, 0.4375, 0.5, 0.53125, 0.5625, 0.59375, 0.625, 0.65625, 0.6875, 0.75, 0.78125, 0.8125, 0.84375, 0.875, 0.90625, 0.921875, 0.9296875, 0.9375, 0.9453125, 0.953125, 0.96875, 0.984375, 0.999644738, 0.99971544, 0.99971544, 0.99971544, 0.99971544], degree=3))
        make_face(mode=Mode.SUBTRACT)
        with BuildLine():
            ThreePointArc((8.992854355, 3.215279027), (0, 9.550363798), (-8.992854355, 3.215279027))
            add(Edge.make_bspline(
                [(-6.482730882, 18.920257125), (-6.481357821, 18.916924027), (-6.434399602, 18.802861466), (-6.330701066, 18.545377344), (-6.087016997, 17.906029612), (-5.756543802, 16.936809876), (-5.400327587, 15.600833855), (-5.170127048, 14.178161761), (-5.163909696, 12.726649856), (-5.528940794, 11.262631501), (-6.421625851, 10.168582686), (-7.456414954, 9.637035594), (-8.34310286, 9.435914775), (-9.158963912, 9.380779136), (-9.934006751, 9.348462034), (-10.661569297, 9.281317237), (-11.22941997, 9.15835602), (-11.927728827, 8.885014141), (-12.635544248, 8.566793201), (-13.211423415, 8.225093601), (-13.613053058, 7.876062007), (-13.811677363, 7.566988268), (-13.894989912, 7.282057166), (-13.877739641, 6.640738219), (-13.728682956, 6.059400104), (-13.550186706, 5.652972791), (-13.395244724, 5.396758929), (-13.263897961, 5.238802562), (-13.15922722, 5.143680622), (-13.100472232, 5.098556794), (-12.977942664, 5.022027734), (-12.576086656, 4.793326813), (-11.723279322, 4.29180674), (-10.600317935, 3.730910578), (-9.65222819, 3.377728779), (-9.219265154, 3.260629732), (-8.992854355, 3.215279027)],
                knots=[0.003301299, 0.003301299, 0.003301299, 0.003301299, 0.004126624, 0.03125, 0.0625, 0.125, 0.1875, 0.25, 0.3125, 0.375, 0.4375, 0.46875, 0.5, 0.53125, 0.5625, 0.59375, 0.625, 0.65625, 0.6875, 0.71875, 0.75, 0.78125, 0.8125, 0.84375, 0.875, 0.890625, 0.90625, 0.921875, 0.9296875, 0.9375, 0.9453125, 0.953125, 0.96875, 0.984375, 0.9921875, 1, 1, 1, 1], degree=3))
            ThreePointArc((-6.482730882, 18.920257125), (0.000281493, 20.000048232), (6.48326347, 18.920074634))
            add(Edge.make_bspline(
                [(6.48326347, 18.920074634), (6.426969184, 18.784168204), (6.323926396, 18.529240191), (6.073238618, 17.871328767), (5.744805977, 16.907111706), (5.391475966, 15.577966261), (5.164397524, 14.161929714), (5.161437973, 12.715977906), (5.530830467, 11.256294227), (6.425185299, 10.167861151), (7.457773191, 9.638640592), (8.342471897, 9.437117849), (9.157349955, 9.380525303), (9.931849038, 9.346695933), (10.659368927, 9.278355576), (11.228458067, 9.154567491), (11.927518469, 8.881074749), (12.635776715, 8.563143177), (13.211970046, 8.221868708), (13.613558474, 7.873391688), (13.811756524, 7.565229996), (13.894899912, 7.281280641), (13.877647996, 6.639933014), (13.728566933, 6.058675927), (13.550080559, 5.652289851), (13.395162417, 5.396116901), (13.263855365, 5.238202934), (13.159243026, 5.143126111), (13.100533395, 5.098033712), (12.978142673, 5.021581255), (12.576396259, 4.792966806), (11.723496187, 4.291557777), (10.600391857, 3.730785638), (9.652220864, 3.377684544), (9.219264876, 3.260618657), (8.992854355, 3.215279027)],
                knots=[0, 0, 0, 0, 0.03125, 0.0625, 0.125, 0.1875, 0.25, 0.3125, 0.375, 0.4375, 0.46875, 0.5, 0.53125, 0.5625, 0.59375, 0.625, 0.65625, 0.6875, 0.71875, 0.75, 0.78125, 0.8125, 0.84375, 0.875, 0.890625, 0.90625, 0.921875, 0.9296875, 0.9375, 0.9453125, 0.953125, 0.96875, 0.984375, 0.9921875, 1, 1, 1, 1], degree=3))
        make_face(mode=Mode.SUBTRACT)
    extrude(amount=BOSS_EXTRUDE1_DEPTH)


solid = part.part
